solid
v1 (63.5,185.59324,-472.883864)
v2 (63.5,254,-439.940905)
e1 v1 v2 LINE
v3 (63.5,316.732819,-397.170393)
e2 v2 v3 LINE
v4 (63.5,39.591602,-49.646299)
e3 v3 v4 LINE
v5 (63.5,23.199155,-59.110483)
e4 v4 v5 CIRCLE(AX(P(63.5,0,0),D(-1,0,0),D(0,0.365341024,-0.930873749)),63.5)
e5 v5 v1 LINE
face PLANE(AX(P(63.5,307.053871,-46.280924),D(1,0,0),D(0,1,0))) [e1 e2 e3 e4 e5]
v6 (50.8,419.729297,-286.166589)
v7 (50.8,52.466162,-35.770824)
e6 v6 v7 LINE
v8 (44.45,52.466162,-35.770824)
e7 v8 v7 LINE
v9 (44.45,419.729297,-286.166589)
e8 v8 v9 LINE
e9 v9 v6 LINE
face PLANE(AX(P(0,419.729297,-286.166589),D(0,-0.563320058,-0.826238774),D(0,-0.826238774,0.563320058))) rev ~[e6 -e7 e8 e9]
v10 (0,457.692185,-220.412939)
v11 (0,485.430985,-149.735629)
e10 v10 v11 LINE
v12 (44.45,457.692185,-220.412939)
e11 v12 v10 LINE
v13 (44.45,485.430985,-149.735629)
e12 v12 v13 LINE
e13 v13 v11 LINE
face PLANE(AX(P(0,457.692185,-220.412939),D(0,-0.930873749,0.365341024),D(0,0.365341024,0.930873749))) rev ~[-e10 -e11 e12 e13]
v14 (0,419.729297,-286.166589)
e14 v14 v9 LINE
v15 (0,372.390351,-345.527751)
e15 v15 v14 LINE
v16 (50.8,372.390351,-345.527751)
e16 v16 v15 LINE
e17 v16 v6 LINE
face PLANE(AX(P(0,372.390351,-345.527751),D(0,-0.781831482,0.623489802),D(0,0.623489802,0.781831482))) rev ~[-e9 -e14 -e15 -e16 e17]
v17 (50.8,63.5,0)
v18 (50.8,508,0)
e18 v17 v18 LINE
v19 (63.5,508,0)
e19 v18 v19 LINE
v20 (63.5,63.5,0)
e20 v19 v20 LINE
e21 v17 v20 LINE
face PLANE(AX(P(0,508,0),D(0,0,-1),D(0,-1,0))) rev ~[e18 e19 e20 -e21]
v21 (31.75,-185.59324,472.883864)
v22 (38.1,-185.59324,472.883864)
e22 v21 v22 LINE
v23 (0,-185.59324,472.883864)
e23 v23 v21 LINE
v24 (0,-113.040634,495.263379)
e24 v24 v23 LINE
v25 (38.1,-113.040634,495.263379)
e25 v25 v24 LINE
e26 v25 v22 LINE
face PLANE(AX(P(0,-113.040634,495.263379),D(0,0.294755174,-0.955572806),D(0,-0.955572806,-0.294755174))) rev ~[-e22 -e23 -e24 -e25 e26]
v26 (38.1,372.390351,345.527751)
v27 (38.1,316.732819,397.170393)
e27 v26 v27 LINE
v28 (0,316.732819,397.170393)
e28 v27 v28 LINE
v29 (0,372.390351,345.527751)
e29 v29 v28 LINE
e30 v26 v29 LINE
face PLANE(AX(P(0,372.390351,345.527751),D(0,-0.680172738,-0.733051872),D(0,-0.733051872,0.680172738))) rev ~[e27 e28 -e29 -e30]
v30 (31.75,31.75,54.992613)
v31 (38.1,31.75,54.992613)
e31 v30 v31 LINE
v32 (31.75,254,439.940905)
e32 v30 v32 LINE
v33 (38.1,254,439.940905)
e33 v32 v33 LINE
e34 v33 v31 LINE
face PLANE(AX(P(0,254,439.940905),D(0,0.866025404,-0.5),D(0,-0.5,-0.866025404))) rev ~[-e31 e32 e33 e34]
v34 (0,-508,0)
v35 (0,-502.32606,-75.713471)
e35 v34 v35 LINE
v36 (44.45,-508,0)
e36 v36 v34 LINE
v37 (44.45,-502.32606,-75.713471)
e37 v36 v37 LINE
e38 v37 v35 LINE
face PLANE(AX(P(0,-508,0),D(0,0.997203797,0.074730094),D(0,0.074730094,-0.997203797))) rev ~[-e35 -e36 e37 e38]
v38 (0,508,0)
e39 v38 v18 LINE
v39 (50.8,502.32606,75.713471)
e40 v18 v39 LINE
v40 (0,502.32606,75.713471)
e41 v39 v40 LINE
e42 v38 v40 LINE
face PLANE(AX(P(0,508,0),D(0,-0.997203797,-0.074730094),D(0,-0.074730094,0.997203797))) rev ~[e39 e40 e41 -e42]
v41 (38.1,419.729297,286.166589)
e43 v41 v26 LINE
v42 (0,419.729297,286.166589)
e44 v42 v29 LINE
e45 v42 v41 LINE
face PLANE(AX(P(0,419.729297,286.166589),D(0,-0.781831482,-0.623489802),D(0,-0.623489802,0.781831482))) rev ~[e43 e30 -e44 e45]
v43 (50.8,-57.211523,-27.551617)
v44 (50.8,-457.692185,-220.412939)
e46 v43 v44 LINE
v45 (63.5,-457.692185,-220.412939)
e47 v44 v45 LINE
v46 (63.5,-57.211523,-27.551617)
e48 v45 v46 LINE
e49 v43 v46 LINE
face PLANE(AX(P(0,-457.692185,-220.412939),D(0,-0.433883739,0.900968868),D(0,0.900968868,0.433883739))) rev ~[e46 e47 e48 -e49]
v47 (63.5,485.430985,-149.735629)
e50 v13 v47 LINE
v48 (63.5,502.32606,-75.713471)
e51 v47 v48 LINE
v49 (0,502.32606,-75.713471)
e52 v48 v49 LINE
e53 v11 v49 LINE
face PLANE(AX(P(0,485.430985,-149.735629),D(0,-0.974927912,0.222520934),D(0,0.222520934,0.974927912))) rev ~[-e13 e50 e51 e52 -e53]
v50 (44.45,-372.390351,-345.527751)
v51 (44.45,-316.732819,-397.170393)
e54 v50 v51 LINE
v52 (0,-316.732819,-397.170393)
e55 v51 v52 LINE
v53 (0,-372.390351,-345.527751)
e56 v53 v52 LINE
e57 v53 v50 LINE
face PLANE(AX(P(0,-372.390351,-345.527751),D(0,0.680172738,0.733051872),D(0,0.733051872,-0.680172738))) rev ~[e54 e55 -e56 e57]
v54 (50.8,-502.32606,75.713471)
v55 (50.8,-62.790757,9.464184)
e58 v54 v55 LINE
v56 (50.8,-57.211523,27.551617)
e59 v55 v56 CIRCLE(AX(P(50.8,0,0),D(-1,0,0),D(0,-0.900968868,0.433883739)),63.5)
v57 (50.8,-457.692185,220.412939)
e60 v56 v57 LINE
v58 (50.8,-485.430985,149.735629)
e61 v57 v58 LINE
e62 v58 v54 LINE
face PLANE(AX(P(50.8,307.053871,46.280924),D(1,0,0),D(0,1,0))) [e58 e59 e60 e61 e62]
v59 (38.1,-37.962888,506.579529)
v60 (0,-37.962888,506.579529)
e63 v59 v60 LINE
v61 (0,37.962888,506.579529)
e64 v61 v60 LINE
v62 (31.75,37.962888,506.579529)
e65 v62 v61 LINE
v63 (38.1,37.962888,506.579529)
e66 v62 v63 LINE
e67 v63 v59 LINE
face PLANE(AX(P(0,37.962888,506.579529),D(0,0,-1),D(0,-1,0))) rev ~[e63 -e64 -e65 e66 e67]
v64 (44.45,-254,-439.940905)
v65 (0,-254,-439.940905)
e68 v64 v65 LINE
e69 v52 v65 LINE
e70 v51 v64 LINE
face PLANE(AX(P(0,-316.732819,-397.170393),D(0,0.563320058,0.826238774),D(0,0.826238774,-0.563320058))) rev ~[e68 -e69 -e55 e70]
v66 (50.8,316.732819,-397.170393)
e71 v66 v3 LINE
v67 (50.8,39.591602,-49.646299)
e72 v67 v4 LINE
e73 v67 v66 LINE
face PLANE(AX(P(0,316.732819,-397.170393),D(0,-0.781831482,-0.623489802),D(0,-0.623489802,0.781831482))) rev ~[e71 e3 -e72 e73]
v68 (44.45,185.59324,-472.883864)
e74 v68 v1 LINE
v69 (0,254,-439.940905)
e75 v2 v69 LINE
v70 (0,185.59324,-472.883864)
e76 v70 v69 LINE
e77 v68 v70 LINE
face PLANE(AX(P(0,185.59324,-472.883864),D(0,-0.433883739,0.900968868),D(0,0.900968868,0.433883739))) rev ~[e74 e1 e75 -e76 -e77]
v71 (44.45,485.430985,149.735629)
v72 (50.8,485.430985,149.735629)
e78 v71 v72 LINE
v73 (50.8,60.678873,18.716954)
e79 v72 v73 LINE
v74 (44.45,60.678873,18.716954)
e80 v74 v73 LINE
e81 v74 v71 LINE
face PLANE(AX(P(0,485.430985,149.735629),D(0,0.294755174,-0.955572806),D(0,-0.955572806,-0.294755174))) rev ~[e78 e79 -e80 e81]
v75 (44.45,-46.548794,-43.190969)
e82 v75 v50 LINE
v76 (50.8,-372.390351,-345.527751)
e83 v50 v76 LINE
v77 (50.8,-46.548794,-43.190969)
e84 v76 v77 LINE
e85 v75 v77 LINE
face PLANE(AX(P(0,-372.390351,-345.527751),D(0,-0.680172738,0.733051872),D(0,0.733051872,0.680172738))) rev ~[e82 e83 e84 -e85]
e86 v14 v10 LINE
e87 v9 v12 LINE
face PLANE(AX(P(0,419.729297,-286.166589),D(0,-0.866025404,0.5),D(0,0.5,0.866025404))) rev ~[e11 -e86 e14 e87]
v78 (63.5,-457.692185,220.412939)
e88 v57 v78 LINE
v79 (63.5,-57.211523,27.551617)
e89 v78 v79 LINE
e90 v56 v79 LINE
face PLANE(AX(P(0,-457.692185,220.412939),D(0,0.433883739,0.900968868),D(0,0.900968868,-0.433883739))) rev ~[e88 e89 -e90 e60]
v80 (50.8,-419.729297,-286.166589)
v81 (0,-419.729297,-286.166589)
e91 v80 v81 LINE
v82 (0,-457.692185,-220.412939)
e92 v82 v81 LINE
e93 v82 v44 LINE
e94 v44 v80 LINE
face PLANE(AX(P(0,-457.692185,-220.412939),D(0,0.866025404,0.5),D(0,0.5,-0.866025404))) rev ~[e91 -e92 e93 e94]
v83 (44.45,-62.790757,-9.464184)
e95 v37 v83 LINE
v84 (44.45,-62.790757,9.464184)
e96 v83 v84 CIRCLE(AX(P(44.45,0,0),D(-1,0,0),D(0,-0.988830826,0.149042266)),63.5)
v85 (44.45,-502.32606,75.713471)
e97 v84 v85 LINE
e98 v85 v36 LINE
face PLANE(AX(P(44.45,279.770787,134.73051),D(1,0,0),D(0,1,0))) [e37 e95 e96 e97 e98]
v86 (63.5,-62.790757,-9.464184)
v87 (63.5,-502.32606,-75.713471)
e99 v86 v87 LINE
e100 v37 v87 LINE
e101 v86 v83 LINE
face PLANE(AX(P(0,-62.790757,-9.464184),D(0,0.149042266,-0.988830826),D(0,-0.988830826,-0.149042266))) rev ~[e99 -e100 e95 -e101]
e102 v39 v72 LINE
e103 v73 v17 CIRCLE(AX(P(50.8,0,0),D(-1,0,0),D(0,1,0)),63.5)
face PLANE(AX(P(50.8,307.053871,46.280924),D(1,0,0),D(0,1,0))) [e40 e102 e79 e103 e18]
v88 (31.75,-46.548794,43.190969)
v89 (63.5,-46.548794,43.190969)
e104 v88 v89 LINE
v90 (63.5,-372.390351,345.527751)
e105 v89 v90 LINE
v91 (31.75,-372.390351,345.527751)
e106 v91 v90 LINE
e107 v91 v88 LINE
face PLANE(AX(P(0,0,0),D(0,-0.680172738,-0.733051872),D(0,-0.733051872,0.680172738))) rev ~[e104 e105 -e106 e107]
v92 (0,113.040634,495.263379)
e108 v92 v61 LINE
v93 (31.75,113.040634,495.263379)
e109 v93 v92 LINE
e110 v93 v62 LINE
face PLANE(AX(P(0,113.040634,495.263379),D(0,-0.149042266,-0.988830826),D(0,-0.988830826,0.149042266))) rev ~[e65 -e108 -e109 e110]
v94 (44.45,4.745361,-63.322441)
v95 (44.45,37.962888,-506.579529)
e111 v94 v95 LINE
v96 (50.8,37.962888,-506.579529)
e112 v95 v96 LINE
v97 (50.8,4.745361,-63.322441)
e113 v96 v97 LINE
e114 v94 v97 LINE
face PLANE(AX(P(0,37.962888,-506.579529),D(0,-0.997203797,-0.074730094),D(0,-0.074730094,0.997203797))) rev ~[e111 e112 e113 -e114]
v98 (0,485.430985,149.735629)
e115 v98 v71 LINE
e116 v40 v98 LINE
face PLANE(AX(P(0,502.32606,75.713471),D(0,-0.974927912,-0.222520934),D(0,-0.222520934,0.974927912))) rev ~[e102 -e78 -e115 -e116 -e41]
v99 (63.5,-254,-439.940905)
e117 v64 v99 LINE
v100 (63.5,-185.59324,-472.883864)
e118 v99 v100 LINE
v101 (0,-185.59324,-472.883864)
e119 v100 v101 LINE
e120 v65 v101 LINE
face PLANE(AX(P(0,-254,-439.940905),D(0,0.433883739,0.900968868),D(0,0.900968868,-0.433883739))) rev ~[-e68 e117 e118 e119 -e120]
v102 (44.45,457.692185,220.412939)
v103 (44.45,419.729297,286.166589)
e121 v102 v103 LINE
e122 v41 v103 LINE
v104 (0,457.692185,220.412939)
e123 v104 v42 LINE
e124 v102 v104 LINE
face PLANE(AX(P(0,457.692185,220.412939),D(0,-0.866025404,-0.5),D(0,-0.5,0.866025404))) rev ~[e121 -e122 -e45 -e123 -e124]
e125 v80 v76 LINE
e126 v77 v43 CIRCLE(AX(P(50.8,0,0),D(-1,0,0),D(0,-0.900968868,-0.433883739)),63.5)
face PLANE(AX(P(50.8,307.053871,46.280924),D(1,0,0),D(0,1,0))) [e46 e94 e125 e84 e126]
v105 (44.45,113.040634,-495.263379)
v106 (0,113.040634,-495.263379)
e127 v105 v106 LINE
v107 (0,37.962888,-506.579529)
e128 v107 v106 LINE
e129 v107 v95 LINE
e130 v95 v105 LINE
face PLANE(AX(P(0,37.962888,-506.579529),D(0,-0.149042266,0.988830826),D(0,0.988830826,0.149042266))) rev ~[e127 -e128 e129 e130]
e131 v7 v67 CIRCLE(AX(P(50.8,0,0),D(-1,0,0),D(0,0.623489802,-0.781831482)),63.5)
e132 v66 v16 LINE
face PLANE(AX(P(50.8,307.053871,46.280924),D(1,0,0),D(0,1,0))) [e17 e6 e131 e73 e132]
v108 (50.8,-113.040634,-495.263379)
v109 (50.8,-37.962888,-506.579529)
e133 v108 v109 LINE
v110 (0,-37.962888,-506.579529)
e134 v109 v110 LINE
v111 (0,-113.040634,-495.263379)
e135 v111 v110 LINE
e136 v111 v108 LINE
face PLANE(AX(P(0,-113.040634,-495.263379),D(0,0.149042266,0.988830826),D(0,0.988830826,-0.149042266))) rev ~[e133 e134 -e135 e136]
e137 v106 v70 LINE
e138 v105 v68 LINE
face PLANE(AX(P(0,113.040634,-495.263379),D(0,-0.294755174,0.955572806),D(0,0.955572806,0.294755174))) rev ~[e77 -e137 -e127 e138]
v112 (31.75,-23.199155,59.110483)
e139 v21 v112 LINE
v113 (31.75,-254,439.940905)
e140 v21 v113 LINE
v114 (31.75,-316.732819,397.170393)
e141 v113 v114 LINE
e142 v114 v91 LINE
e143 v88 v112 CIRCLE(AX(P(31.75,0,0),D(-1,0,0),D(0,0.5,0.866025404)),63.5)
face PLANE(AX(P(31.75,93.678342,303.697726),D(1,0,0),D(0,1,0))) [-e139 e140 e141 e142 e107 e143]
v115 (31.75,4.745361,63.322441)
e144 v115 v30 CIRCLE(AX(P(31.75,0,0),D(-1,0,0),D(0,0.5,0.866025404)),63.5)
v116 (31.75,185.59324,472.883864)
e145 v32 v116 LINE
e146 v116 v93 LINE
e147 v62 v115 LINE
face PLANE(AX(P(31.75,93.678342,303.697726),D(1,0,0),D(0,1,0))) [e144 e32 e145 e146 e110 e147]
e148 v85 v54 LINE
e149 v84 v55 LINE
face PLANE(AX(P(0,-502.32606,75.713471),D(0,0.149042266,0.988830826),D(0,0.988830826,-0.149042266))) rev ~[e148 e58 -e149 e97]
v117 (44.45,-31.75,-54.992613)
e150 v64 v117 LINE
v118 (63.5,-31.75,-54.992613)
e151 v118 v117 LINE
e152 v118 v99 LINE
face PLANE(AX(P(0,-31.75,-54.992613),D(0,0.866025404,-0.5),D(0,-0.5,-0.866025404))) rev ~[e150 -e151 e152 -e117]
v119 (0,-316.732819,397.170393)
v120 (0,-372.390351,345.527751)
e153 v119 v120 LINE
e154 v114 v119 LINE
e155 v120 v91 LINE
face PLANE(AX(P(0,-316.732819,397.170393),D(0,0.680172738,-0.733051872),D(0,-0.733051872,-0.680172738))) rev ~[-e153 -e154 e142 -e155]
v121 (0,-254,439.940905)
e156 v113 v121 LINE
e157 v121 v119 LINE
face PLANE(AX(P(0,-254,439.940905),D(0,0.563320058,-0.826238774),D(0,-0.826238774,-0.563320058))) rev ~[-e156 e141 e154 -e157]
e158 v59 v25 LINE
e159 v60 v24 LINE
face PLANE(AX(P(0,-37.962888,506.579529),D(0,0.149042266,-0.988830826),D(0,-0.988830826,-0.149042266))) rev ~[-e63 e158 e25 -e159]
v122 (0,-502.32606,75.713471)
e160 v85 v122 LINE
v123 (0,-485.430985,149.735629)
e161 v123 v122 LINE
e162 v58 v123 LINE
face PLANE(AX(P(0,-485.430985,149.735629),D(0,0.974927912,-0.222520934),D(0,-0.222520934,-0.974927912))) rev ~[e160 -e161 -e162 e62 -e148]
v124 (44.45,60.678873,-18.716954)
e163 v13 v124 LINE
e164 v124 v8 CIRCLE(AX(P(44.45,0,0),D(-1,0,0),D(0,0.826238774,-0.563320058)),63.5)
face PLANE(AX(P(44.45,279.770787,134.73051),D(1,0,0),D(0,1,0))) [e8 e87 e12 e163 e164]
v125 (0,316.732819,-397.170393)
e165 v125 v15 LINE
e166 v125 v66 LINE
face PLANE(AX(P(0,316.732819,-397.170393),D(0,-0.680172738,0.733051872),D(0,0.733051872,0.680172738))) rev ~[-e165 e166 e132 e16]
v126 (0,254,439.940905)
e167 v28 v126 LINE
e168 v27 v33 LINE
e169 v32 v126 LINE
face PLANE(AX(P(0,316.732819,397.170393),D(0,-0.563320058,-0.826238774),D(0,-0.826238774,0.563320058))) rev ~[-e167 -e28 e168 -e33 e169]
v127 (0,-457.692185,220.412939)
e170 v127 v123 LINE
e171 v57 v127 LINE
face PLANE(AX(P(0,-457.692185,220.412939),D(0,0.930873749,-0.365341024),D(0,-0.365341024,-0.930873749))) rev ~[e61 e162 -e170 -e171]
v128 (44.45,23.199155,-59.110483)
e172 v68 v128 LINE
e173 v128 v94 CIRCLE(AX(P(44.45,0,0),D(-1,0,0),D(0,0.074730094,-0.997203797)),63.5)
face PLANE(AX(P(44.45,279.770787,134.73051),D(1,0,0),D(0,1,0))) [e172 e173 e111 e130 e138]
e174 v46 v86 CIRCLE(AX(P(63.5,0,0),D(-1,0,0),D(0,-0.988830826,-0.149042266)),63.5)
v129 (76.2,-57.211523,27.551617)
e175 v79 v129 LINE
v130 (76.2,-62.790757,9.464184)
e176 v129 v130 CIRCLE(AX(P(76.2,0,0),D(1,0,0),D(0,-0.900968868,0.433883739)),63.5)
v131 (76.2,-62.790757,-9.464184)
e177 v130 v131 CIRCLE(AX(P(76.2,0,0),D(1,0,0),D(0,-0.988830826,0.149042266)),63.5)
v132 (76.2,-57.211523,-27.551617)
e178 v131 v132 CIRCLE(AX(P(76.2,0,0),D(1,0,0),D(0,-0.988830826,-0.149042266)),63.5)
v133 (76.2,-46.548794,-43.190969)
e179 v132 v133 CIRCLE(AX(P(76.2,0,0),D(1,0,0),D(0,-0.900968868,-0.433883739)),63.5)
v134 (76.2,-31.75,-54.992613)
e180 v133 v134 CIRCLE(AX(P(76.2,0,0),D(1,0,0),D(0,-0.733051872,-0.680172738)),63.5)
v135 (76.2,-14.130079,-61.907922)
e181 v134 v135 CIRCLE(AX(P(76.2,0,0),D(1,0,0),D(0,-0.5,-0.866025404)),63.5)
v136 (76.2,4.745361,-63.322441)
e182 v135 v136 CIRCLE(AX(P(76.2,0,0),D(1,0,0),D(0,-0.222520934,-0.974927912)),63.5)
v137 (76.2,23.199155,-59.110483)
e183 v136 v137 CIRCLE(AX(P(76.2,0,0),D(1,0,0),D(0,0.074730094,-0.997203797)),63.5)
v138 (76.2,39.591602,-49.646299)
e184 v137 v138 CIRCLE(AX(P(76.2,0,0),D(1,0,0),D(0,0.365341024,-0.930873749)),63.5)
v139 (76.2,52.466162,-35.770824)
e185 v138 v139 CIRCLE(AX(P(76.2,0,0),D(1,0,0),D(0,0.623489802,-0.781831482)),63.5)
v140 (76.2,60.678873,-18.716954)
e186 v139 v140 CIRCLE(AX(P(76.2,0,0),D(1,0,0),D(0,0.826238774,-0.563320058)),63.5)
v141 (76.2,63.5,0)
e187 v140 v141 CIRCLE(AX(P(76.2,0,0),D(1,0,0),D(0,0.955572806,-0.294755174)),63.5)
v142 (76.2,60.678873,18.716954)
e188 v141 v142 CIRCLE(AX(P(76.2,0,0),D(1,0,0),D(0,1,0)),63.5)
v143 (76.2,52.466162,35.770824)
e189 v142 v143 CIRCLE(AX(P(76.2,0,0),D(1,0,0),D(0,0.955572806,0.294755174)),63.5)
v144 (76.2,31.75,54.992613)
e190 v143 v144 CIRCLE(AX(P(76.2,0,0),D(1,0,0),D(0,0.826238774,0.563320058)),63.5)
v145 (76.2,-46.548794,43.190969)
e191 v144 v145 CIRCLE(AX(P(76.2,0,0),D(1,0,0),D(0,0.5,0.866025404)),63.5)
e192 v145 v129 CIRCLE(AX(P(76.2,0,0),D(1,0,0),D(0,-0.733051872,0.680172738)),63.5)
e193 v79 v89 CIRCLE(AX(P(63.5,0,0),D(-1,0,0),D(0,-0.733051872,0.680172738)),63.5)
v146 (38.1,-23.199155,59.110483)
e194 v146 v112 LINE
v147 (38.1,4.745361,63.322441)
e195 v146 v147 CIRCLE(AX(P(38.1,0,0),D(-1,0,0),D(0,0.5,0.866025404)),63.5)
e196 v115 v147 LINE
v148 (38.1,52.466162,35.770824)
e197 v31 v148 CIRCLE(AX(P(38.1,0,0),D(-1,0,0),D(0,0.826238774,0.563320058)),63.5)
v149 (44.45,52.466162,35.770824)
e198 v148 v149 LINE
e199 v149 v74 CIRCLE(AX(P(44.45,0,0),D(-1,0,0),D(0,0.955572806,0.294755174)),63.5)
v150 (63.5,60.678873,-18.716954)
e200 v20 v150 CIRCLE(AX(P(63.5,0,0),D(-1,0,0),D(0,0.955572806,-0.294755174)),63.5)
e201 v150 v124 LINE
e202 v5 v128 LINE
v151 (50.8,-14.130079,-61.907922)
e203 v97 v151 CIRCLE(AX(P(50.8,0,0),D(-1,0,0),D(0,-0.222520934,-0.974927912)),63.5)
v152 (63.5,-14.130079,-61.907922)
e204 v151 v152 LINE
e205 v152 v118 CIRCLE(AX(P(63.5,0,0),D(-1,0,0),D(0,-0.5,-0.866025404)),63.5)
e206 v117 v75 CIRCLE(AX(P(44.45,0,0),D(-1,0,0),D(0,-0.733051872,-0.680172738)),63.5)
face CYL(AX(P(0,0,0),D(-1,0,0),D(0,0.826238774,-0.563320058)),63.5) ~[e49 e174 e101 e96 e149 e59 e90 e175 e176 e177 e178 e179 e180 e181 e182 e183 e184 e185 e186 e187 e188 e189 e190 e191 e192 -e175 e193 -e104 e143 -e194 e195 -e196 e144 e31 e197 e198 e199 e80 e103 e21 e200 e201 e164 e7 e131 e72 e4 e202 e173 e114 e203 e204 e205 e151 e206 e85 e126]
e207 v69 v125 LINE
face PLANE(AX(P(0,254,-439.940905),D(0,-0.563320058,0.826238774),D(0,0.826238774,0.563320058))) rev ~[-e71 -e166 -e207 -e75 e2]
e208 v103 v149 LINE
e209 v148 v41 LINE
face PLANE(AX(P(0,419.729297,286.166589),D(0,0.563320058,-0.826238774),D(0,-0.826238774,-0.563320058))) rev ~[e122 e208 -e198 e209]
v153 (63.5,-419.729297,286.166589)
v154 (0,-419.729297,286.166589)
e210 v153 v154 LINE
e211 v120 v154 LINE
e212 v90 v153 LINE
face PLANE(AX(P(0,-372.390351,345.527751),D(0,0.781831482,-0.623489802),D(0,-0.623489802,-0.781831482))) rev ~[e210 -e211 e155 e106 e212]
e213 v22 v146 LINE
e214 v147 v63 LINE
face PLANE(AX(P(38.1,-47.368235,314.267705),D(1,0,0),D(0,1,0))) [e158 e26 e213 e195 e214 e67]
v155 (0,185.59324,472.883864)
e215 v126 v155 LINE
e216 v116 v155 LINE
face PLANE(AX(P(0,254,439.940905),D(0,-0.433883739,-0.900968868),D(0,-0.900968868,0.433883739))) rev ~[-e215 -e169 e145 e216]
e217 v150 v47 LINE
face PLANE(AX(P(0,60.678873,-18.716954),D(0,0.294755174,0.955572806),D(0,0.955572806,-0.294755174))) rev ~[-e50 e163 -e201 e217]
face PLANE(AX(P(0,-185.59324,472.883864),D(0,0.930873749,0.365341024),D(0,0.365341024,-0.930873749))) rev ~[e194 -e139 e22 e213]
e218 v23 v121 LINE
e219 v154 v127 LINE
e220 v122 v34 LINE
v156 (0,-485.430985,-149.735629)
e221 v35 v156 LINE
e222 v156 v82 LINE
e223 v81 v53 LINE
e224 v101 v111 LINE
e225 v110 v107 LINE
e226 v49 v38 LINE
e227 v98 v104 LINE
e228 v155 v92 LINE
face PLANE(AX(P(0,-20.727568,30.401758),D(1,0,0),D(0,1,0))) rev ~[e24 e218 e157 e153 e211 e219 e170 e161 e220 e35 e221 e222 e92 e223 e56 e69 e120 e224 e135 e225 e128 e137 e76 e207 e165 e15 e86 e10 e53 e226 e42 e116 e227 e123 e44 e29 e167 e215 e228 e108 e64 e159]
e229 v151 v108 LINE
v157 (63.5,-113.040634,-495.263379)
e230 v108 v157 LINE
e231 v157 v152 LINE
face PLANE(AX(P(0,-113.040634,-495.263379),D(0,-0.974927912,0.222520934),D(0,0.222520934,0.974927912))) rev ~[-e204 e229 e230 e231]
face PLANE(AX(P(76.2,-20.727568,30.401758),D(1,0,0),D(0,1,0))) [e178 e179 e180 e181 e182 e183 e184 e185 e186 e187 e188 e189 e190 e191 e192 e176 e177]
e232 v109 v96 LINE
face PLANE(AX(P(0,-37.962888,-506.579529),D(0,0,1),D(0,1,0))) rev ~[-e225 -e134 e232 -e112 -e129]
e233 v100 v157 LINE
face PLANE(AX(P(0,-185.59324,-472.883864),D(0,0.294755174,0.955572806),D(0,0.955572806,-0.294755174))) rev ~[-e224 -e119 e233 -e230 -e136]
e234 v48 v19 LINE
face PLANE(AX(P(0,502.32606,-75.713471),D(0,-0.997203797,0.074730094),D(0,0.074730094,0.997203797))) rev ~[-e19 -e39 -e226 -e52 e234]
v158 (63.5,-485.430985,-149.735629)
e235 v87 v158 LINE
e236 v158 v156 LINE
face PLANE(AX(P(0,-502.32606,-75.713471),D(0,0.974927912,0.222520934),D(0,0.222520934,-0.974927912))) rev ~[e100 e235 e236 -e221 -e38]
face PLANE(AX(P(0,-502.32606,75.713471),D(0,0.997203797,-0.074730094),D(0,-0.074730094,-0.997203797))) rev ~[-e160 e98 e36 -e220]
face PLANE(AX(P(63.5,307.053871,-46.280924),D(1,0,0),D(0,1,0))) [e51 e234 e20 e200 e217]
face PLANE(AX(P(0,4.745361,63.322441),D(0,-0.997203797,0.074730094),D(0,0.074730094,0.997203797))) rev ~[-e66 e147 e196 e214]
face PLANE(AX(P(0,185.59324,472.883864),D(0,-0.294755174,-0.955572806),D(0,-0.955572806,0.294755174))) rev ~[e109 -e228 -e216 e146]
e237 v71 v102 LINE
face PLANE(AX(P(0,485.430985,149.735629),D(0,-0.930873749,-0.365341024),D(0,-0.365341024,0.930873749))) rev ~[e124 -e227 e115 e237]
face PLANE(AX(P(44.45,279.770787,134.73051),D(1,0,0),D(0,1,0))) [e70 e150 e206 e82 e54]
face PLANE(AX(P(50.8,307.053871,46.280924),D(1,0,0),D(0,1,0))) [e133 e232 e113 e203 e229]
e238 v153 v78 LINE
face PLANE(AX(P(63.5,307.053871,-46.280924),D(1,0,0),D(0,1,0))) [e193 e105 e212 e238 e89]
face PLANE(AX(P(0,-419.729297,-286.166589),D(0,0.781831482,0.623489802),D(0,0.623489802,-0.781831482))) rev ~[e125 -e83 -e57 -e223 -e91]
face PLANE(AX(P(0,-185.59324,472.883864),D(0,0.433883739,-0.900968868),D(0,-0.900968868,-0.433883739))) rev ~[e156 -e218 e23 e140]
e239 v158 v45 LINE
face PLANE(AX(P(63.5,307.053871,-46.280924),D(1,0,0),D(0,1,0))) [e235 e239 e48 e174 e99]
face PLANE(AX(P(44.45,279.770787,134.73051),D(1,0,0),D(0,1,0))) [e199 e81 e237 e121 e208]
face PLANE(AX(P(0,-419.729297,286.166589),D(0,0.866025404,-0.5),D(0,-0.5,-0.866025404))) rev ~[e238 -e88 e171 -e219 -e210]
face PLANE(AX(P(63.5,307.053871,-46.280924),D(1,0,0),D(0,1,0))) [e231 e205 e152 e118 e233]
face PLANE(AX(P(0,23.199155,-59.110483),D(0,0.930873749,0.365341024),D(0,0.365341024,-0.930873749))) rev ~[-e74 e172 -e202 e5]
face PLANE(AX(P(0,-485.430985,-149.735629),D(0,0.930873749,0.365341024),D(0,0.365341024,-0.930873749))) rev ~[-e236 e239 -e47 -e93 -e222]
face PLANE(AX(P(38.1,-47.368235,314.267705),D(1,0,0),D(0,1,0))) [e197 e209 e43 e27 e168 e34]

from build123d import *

# Parameters (mm, degrees)
F1_DEPTH = 25.4
F2_DEPTH = 31.75
F3_DEPTH = 38.1
F4_DEPTH = 44.45
F5_DEPTH = 50.8
F6_DEPTH = 63.5
F7_DEPTH = 76.2


with BuildPart() as f1:
    # F0 (on Right) → F1 (new body)
    with BuildSketch(Plane.YZ):
        with BuildLine():
            ThreePointArc((-23.1991550473, 59.1104830389), (-9.4641839022, 62.7907574653), (4.7453609427, 63.322441121))
            Line((4.7453609427, 63.322441121), (37.9628875419, 506.579528968))
            Line((37.9628875419, 506.579528968), (-37.9628875419, 506.579528968))
            Line((-37.9628875419, 506.579528968), (-113.0406344498, 495.2633793884))
            Line((-113.0406344498, 495.2633793884), (-185.5932403781, 472.8838643113))
            Line((-185.5932403781, 472.8838643113), (-23.1991550473, 59.1104830389))
        make_face()
        with BuildLine():
            Line((37.9628875419, 506.579528968), (4.7453609427, 63.322441121))
            ThreePointArc((4.7453609427, 63.322441121), (18.7169535751, 60.6788731674), (31.75, 54.9926131403))
            Line((31.75, 54.9926131403), (254, 439.9409051225))
            Line((254, 439.9409051225), (185.5932403781, 472.8838643113))
            Line((185.5932403781, 472.8838643113), (113.0406344498, 495.2633793884))
            Line((113.0406344498, 495.2633793884), (37.9628875419, 506.579528968))
        make_face()
        with BuildLine():
            Line((254, 439.9409051225), (31.75, 54.9926131403))
            ThreePointArc((31.75, 54.9926131403), (43.1909688485, 46.5487938612), (52.4661621691, 35.770823687))
            Line((52.4661621691, 35.770823687), (419.7292973525, 286.1665894963))
            Line((419.7292973525, 286.1665894963), (372.3903508896, 345.5277507876))
            Line((372.3903508896, 345.5277507876), (316.7328193442, 397.1703930938))
            Line((316.7328193442, 397.1703930938), (254, 439.9409051225))
        make_face()
        with BuildLine():
            Line((60.6788731674, 18.7169535751), (485.4309853394, 149.7356286007))
            Line((485.4309853394, 149.7356286007), (457.6921848944, 220.4129394717))
            Line((457.6921848944, 220.4129394717), (419.7292973525, 286.1665894963))
            Line((419.7292973525, 286.1665894963), (52.4661621691, 35.770823687))
            ThreePointArc((52.4661621691, 35.770823687), (57.2115231118, 27.551617434), (60.6788731674, 18.7169535751))
        make_face()
        with BuildLine():
            Line((63.5, 0), (508, 0))
            Line((508, 0), (502.3260597224, 75.7134712175))
            Line((502.3260597224, 75.7134712175), (485.4309853394, 149.7356286007))
            Line((485.4309853394, 149.7356286007), (60.6788731674, 18.7169535751))
            ThreePointArc((60.6788731674, 18.7169535751), (62.7907574653, 9.4641839022), (63.5, 0))
        make_face()
        with BuildLine():
            Line((502.3260597224, -75.7134712175), (508, 0))
            Line((508, 0), (63.5, 0))
            ThreePointArc((63.5, 0), (62.7907574653, -9.4641839022), (60.6788731674, -18.7169535751))
            Line((60.6788731674, -18.7169535751), (485.4309853394, -149.7356286007))
            Line((485.4309853394, -149.7356286007), (502.3260597224, -75.7134712175))
        make_face()
        with BuildLine():
            Line((457.6921848944, -220.4129394717), (485.4309853394, -149.7356286007))
            Line((485.4309853394, -149.7356286007), (60.6788731674, -18.7169535751))
            ThreePointArc((60.6788731674, -18.7169535751), (57.2115231118, -27.551617434), (52.4661621691, -35.770823687))
            Line((52.4661621691, -35.770823687), (419.7292973525, -286.1665894963))
            Line((419.7292973525, -286.1665894963), (457.6921848944, -220.4129394717))
        make_face()
        with BuildLine():
            Line((419.7292973525, -286.1665894963), (52.4661621691, -35.770823687))
            ThreePointArc((52.4661621691, -35.770823687), (46.5487938612, -43.1909688485), (39.591602418, -49.6462991367))
            Line((39.591602418, -49.6462991367), (316.7328193442, -397.1703930938))
            Line((316.7328193442, -397.1703930938), (372.3903508896, -345.5277507876))
            Line((372.3903508896, -345.5277507876), (419.7292973525, -286.1665894963))
        make_face()
        with BuildLine():
            Line((316.7328193442, -397.1703930938), (39.591602418, -49.6462991367))
            ThreePointArc((39.591602418, -49.6462991367), (31.75, -54.9926131403), (23.1991550473, -59.1104830389))
            Line((23.1991550473, -59.1104830389), (185.5932403781, -472.8838643113))
            Line((185.5932403781, -472.8838643113), (254, -439.9409051225))
            Line((254, -439.9409051225), (316.7328193442, -397.1703930938))
        make_face()
        with BuildLine():
            Line((185.5932403781, -472.8838643113), (23.1991550473, -59.1104830389))
            ThreePointArc((23.1991550473, -59.1104830389), (14.1300793062, -61.9079224235), (4.7453609427, -63.322441121))
            Line((4.7453609427, -63.322441121), (37.9628875419, -506.579528968))
            Line((37.9628875419, -506.579528968), (113.0406344498, -495.2633793884))
            Line((113.0406344498, -495.2633793884), (185.5932403781, -472.8838643113))
        make_face()
        with BuildLine():
            Line((37.9628875419, -506.579528968), (4.7453609427, -63.322441121))
            ThreePointArc((4.7453609427, -63.322441121), (-4.7453609427, -63.322441121), (-14.1300793062, -61.9079224235))
            Line((-14.1300793062, -61.9079224235), (-113.0406344498, -495.2633793884))
            Line((-113.0406344498, -495.2633793884), (-37.9628875419, -506.579528968))
            Line((-37.9628875419, -506.579528968), (37.9628875419, -506.579528968))
        make_face()
        with BuildLine():
            Line((-113.0406344498, -495.2633793884), (-14.1300793062, -61.9079224235))
            ThreePointArc((-14.1300793062, -61.9079224235), (-23.1991550473, -59.1104830389), (-31.75, -54.9926131403))
            Line((-31.75, -54.9926131403), (-254, -439.9409051225))
            Line((-254, -439.9409051225), (-185.5932403781, -472.8838643113))
            Line((-185.5932403781, -472.8838643113), (-113.0406344498, -495.2633793884))
        make_face()
        with BuildLine():
            Line((-254, -439.9409051225), (-31.75, -54.9926131403))
            ThreePointArc((-31.75, -54.9926131403), (-39.591602418, -49.6462991367), (-46.5487938612, -43.1909688485))
            Line((-46.5487938612, -43.1909688485), (-372.3903508896, -345.5277507876))
            Line((-372.3903508896, -345.5277507876), (-316.7328193442, -397.1703930938))
            Line((-316.7328193442, -397.1703930938), (-254, -439.9409051225))
        make_face()
        with BuildLine():
            Line((-372.3903508896, -345.5277507876), (-46.5487938612, -43.1909688485))
            ThreePointArc((-46.5487938612, -43.1909688485), (-52.4661621691, -35.770823687), (-57.2115231118, -27.551617434))
            Line((-57.2115231118, -27.551617434), (-457.6921848944, -220.4129394717))
            Line((-457.6921848944, -220.4129394717), (-419.7292973525, -286.1665894963))
            Line((-419.7292973525, -286.1665894963), (-372.3903508896, -345.5277507876))
        make_face()
        with BuildLine():
            Line((-457.6921848944, -220.4129394717), (-57.2115231118, -27.551617434))
            ThreePointArc((-57.2115231118, -27.551617434), (-60.6788731674, -18.7169535751), (-62.7907574653, -9.4641839022))
            Line((-62.7907574653, -9.4641839022), (-502.3260597224, -75.7134712175))
            Line((-502.3260597224, -75.7134712175), (-485.4309853394, -149.7356286007))
            Line((-485.4309853394, -149.7356286007), (-457.6921848944, -220.4129394717))
        make_face()
        with BuildLine():
            Line((-502.3260597224, -75.7134712175), (-62.7907574653, -9.4641839022))
            ThreePointArc((-62.7907574653, -9.4641839022), (-63.5, 0), (-62.7907574653, 9.4641839022))
            Line((-62.7907574653, 9.4641839022), (-502.3260597224, 75.7134712175))
            Line((-502.3260597224, 75.7134712175), (-508, 0))
            Line((-508, 0), (-502.3260597224, -75.7134712175))
        make_face()
        with BuildLine():
            Line((-502.3260597224, 75.7134712175), (-62.7907574653, 9.4641839022))
            ThreePointArc((-62.7907574653, 9.4641839022), (-60.6788731674, 18.7169535751), (-57.2115231118, 27.551617434))
            Line((-57.2115231118, 27.551617434), (-457.6921848944, 220.4129394717))
            Line((-457.6921848944, 220.4129394717), (-485.4309853394, 149.7356286007))
            Line((-485.4309853394, 149.7356286007), (-502.3260597224, 75.7134712175))
        make_face()
        with BuildLine():
            ThreePointArc((-57.2115231118, 27.551617434), (-52.4661621691, 35.770823687), (-46.5487938612, 43.1909688485))
            Line((-46.5487938612, 43.1909688485), (-372.3903508896, 345.5277507876))
            Line((-372.3903508896, 345.5277507876), (-419.7292973525, 286.1665894963))
            Line((-419.7292973525, 286.1665894963), (-457.6921848944, 220.4129394717))
            Line((-457.6921848944, 220.4129394717), (-57.2115231118, 27.551617434))
        make_face()
        with BuildLine():
            ThreePointArc((-46.5487938612, 43.1909688485), (-35.770823687, 52.4661621691), (-23.1991550473, 59.1104830389))
            Line((-23.1991550473, 59.1104830389), (-185.5932403781, 472.8838643113))
            Line((-185.5932403781, 472.8838643113), (-254, 439.9409051225))
            Line((-254, 439.9409051225), (-316.7328193442, 397.1703930938))
            Line((-316.7328193442, 397.1703930938), (-372.3903508896, 345.5277507876))
            Line((-372.3903508896, 345.5277507876), (-46.5487938612, 43.1909688485))
        make_face()
    extrude(amount=F1_DEPTH)

    # F0 (on Right) → F2 (join)
    with BuildSketch(Plane.YZ):
        with BuildLine():
            Line((37.9628875419, 506.579528968), (4.7453609427, 63.322441121))
            ThreePointArc((4.7453609427, 63.322441121), (18.7169535751, 60.6788731674), (31.75, 54.9926131403))
            Line((31.75, 54.9926131403), (254, 439.9409051225))
            Line((254, 439.9409051225), (185.5932403781, 472.8838643113))
            Line((185.5932403781, 472.8838643113), (113.0406344498, 495.2633793884))
            Line((113.0406344498, 495.2633793884), (37.9628875419, 506.579528968))
        make_face()
        with BuildLine():
            ThreePointArc((-46.5487938612, 43.1909688485), (-35.770823687, 52.4661621691), (-23.1991550473, 59.1104830389))
            Line((-23.1991550473, 59.1104830389), (-185.5932403781, 472.8838643113))
            Line((-185.5932403781, 472.8838643113), (-254, 439.9409051225))
            Line((-254, 439.9409051225), (-316.7328193442, 397.1703930938))
            Line((-316.7328193442, 397.1703930938), (-372.3903508896, 345.5277507876))
            Line((-372.3903508896, 345.5277507876), (-46.5487938612, 43.1909688485))
        make_face()
        with BuildLine():
            Line((4.7453609427, 63.322441121), (0, 0))
            Line((0, 0), (31.75, 54.9926131403))
            ThreePointArc((31.75, 54.9926131403), (18.7169535751, 60.6788731674), (4.7453609427, 63.322441121))
        make_face()
        with BuildLine():
            Line((-23.1991550473, 59.1104830389), (0, 0))
            Line((0, 0), (4.7453609427, 63.322441121))
            ThreePointArc((4.7453609427, 63.322441121), (-9.4641839022, 62.7907574653), (-23.1991550473, 59.1104830389))
        make_face()
        with BuildLine():
            Line((-46.5487938612, 43.1909688485), (0, 0))
            Line((0, 0), (-23.1991550473, 59.1104830389))
            ThreePointArc((-23.1991550473, 59.1104830389), (-35.770823687, 52.4661621691), (-46.5487938612, 43.1909688485))
        make_face()
    extrude(amount=F2_DEPTH)

    # F0 (on Right) → F3 (join)
    with BuildSketch(Plane.YZ):
        with BuildLine():
            ThreePointArc((-23.1991550473, 59.1104830389), (-9.4641839022, 62.7907574653), (4.7453609427, 63.322441121))
            Line((4.7453609427, 63.322441121), (37.9628875419, 506.579528968))
            Line((37.9628875419, 506.579528968), (-37.9628875419, 506.579528968))
            Line((-37.9628875419, 506.579528968), (-113.0406344498, 495.2633793884))
            Line((-113.0406344498, 495.2633793884), (-185.5932403781, 472.8838643113))
            Line((-185.5932403781, 472.8838643113), (-23.1991550473, 59.1104830389))
        make_face()
        with BuildLine():
            Line((254, 439.9409051225), (31.75, 54.9926131403))
            ThreePointArc((31.75, 54.9926131403), (43.1909688485, 46.5487938612), (52.4661621691, 35.770823687))
            Line((52.4661621691, 35.770823687), (419.7292973525, 286.1665894963))
            Line((419.7292973525, 286.1665894963), (372.3903508896, 345.5277507876))
            Line((372.3903508896, 345.5277507876), (316.7328193442, 397.1703930938))
            Line((316.7328193442, 397.1703930938), (254, 439.9409051225))
        make_face()
        with BuildLine():
            Line((31.75, 54.9926131403), (0, 0))
            Line((0, 0), (52.4661621691, 35.770823687))
            ThreePointArc((52.4661621691, 35.770823687), (43.1909688485, 46.5487938612), (31.75, 54.9926131403))
        make_face()
        with BuildLine():
            Line((4.7453609427, 63.322441121), (0, 0))
            Line((0, 0), (31.75, 54.9926131403))
            ThreePointArc((31.75, 54.9926131403), (18.7169535751, 60.6788731674), (4.7453609427, 63.322441121))
        make_face()
        with BuildLine():
            Line((-23.1991550473, 59.1104830389), (0, 0))
            Line((0, 0), (4.7453609427, 63.322441121))
            ThreePointArc((4.7453609427, 63.322441121), (-9.4641839022, 62.7907574653), (-23.1991550473, 59.1104830389))
        make_face()
    extrude(amount=F3_DEPTH)

    # F0 (on Right) → F4 (join)
    with BuildSketch(Plane.YZ):
        with BuildLine():
            Line((60.6788731674, 18.7169535751), (485.4309853394, 149.7356286007))
            Line((485.4309853394, 149.7356286007), (457.6921848944, 220.4129394717))
            Line((457.6921848944, 220.4129394717), (419.7292973525, 286.1665894963))
            Line((419.7292973525, 286.1665894963), (52.4661621691, 35.770823687))
            ThreePointArc((52.4661621691, 35.770823687), (57.2115231118, 27.551617434), (60.6788731674, 18.7169535751))
        make_face()
        with BuildLine():
            Line((457.6921848944, -220.4129394717), (485.4309853394, -149.7356286007))
            Line((485.4309853394, -149.7356286007), (60.6788731674, -18.7169535751))
            ThreePointArc((60.6788731674, -18.7169535751), (57.2115231118, -27.551617434), (52.4661621691, -35.770823687))
            Line((52.4661621691, -35.770823687), (419.7292973525, -286.1665894963))
            Line((419.7292973525, -286.1665894963), (457.6921848944, -220.4129394717))
        make_face()
        with BuildLine():
            Line((185.5932403781, -472.8838643113), (23.1991550473, -59.1104830389))
            ThreePointArc((23.1991550473, -59.1104830389), (14.1300793062, -61.9079224235), (4.7453609427, -63.322441121))
            Line((4.7453609427, -63.322441121), (37.9628875419, -506.579528968))
            Line((37.9628875419, -506.579528968), (113.0406344498, -495.2633793884))
            Line((113.0406344498, -495.2633793884), (185.5932403781, -472.8838643113))
        make_face()
        with BuildLine():
            Line((-254, -439.9409051225), (-31.75, -54.9926131403))
            ThreePointArc((-31.75, -54.9926131403), (-39.591602418, -49.6462991367), (-46.5487938612, -43.1909688485))
            Line((-46.5487938612, -43.1909688485), (-372.3903508896, -345.5277507876))
            Line((-372.3903508896, -345.5277507876), (-316.7328193442, -397.1703930938))
            Line((-316.7328193442, -397.1703930938), (-254, -439.9409051225))
        make_face()
        with BuildLine():
            Line((-502.3260597224, -75.7134712175), (-62.7907574653, -9.4641839022))
            ThreePointArc((-62.7907574653, -9.4641839022), (-63.5, 0), (-62.7907574653, 9.4641839022))
            Line((-62.7907574653, 9.4641839022), (-502.3260597224, 75.7134712175))
            Line((-502.3260597224, 75.7134712175), (-508, 0))
            Line((-508, 0), (-502.3260597224, -75.7134712175))
        make_face()
        with BuildLine():
            Line((52.4661621691, 35.770823687), (0, 0))
            Line((0, 0), (60.6788731674, 18.7169535751))
            ThreePointArc((60.6788731674, 18.7169535751), (57.2115231118, 27.551617434), (52.4661621691, 35.770823687))
        make_face()
        with BuildLine():
            Line((0, 0), (63.5, 0))
            ThreePointArc((63.5, 0), (62.7907574653, 9.4641839022), (60.6788731674, 18.7169535751))
            Line((60.6788731674, 18.7169535751), (0, 0))
        make_face()
        with BuildLine():
            ThreePointArc((60.6788731674, -18.7169535751), (62.7907574653, -9.4641839022), (63.5, 0))
            Line((63.5, 0), (0, 0))
            Line((0, 0), (60.6788731674, -18.7169535751))
        make_face()
        with BuildLine():
            Line((60.6788731674, -18.7169535751), (0, 0))
            Line((0, 0), (52.4661621691, -35.770823687))
            ThreePointArc((52.4661621691, -35.770823687), (57.2115231118, -27.551617434), (60.6788731674, -18.7169535751))
        make_face()
        with BuildLine():
            Line((52.4661621691, -35.770823687), (0, 0))
            Line((0, 0), (39.591602418, -49.6462991367))
            ThreePointArc((39.591602418, -49.6462991367), (46.5487938612, -43.1909688485), (52.4661621691, -35.770823687))
        make_face()
        with BuildLine():
            Line((39.591602418, -49.6462991367), (0, 0))
            Line((0, 0), (23.1991550473, -59.1104830389))
            ThreePointArc((23.1991550473, -59.1104830389), (31.75, -54.9926131403), (39.591602418, -49.6462991367))
        make_face()
        with BuildLine():
            Line((23.1991550473, -59.1104830389), (0, 0))
            Line((0, 0), (4.7453609427, -63.322441121))
            ThreePointArc((4.7453609427, -63.322441121), (14.1300793062, -61.9079224235), (23.1991550473, -59.1104830389))
        make_face()
        with BuildLine():
            Line((4.7453609427, -63.322441121), (0, 0))
            Line((0, 0), (-14.1300793062, -61.9079224235))
            ThreePointArc((-14.1300793062, -61.9079224235), (-4.7453609427, -63.322441121), (4.7453609427, -63.322441121))
        make_face()
        with BuildLine():
            Line((-14.1300793062, -61.9079224235), (0, 0))
            Line((0, 0), (-31.75, -54.9926131403))
            ThreePointArc((-31.75, -54.9926131403), (-23.1991550473, -59.1104830389), (-14.1300793062, -61.9079224235))
        make_face()
        with BuildLine():
            Line((-31.75, -54.9926131403), (0, 0))
            Line((0, 0), (-46.5487938612, -43.1909688485))
            ThreePointArc((-46.5487938612, -43.1909688485), (-39.591602418, -49.6462991367), (-31.75, -54.9926131403))
        make_face()
        with BuildLine():
            Line((-46.5487938612, -43.1909688485), (0, 0))
            Line((0, 0), (-57.2115231118, -27.551617434))
            ThreePointArc((-57.2115231118, -27.551617434), (-52.4661621691, -35.770823687), (-46.5487938612, -43.1909688485))
        make_face()
        with BuildLine():
            Line((-57.2115231118, -27.551617434), (0, 0))
            Line((0, 0), (-62.7907574653, -9.4641839022))
            ThreePointArc((-62.7907574653, -9.4641839022), (-60.6788731674, -18.7169535751), (-57.2115231118, -27.551617434))
        make_face()
        with BuildLine():
            Line((-62.7907574653, -9.4641839022), (0, 0))
            Line((0, 0), (-62.7907574653, 9.4641839022))
            ThreePointArc((-62.7907574653, 9.4641839022), (-63.5, 0), (-62.7907574653, -9.4641839022))
        make_face()
    extrude(amount=F4_DEPTH)

    # F0 (on Right) → F5 (join)
    with BuildSketch(Plane.YZ):
        with BuildLine():
            Line((63.5, 0), (508, 0))
            Line((508, 0), (502.3260597224, 75.7134712175))
            Line((502.3260597224, 75.7134712175), (485.4309853394, 149.7356286007))
            Line((485.4309853394, 149.7356286007), (60.6788731674, 18.7169535751))
            ThreePointArc((60.6788731674, 18.7169535751), (62.7907574653, 9.4641839022), (63.5, 0))
        make_face()
        with BuildLine():
            Line((419.7292973525, -286.1665894963), (52.4661621691, -35.770823687))
            ThreePointArc((52.4661621691, -35.770823687), (46.5487938612, -43.1909688485), (39.591602418, -49.6462991367))
            Line((39.591602418, -49.6462991367), (316.7328193442, -397.1703930938))
            Line((316.7328193442, -397.1703930938), (372.3903508896, -345.5277507876))
            Line((372.3903508896, -345.5277507876), (419.7292973525, -286.1665894963))
        make_face()
        with BuildLine():
            Line((37.9628875419, -506.579528968), (4.7453609427, -63.322441121))
            ThreePointArc((4.7453609427, -63.322441121), (-4.7453609427, -63.322441121), (-14.1300793062, -61.9079224235))
            Line((-14.1300793062, -61.9079224235), (-113.0406344498, -495.2633793884))
            Line((-113.0406344498, -495.2633793884), (-37.9628875419, -506.579528968))
            Line((-37.9628875419, -506.579528968), (37.9628875419, -506.579528968))
        make_face()
        with BuildLine():
            Line((-372.3903508896, -345.5277507876), (-46.5487938612, -43.1909688485))
            ThreePointArc((-46.5487938612, -43.1909688485), (-52.4661621691, -35.770823687), (-57.2115231118, -27.551617434))
            Line((-57.2115231118, -27.551617434), (-457.6921848944, -220.4129394717))
            Line((-457.6921848944, -220.4129394717), (-419.7292973525, -286.1665894963))
            Line((-419.7292973525, -286.1665894963), (-372.3903508896, -345.5277507876))
        make_face()
        with BuildLine():
            Line((-502.3260597224, 75.7134712175), (-62.7907574653, 9.4641839022))
            ThreePointArc((-62.7907574653, 9.4641839022), (-60.6788731674, 18.7169535751), (-57.2115231118, 27.551617434))
            Line((-57.2115231118, 27.551617434), (-457.6921848944, 220.4129394717))
            Line((-457.6921848944, 220.4129394717), (-485.4309853394, 149.7356286007))
            Line((-485.4309853394, 149.7356286007), (-502.3260597224, 75.7134712175))
        make_face()
        with BuildLine():
            Line((0, 0), (63.5, 0))
            ThreePointArc((63.5, 0), (62.7907574653, 9.4641839022), (60.6788731674, 18.7169535751))
            Line((60.6788731674, 18.7169535751), (0, 0))
        make_face()
        with BuildLine():
            ThreePointArc((60.6788731674, -18.7169535751), (62.7907574653, -9.4641839022), (63.5, 0))
            Line((63.5, 0), (0, 0))
            Line((0, 0), (60.6788731674, -18.7169535751))
        make_face()
        with BuildLine():
            Line((60.6788731674, -18.7169535751), (0, 0))
            Line((0, 0), (52.4661621691, -35.770823687))
            ThreePointArc((52.4661621691, -35.770823687), (57.2115231118, -27.551617434), (60.6788731674, -18.7169535751))
        make_face()
        with BuildLine():
            Line((52.4661621691, -35.770823687), (0, 0))
            Line((0, 0), (39.591602418, -49.6462991367))
            ThreePointArc((39.591602418, -49.6462991367), (46.5487938612, -43.1909688485), (52.4661621691, -35.770823687))
        make_face()
        with BuildLine():
            Line((39.591602418, -49.6462991367), (0, 0))
            Line((0, 0), (23.1991550473, -59.1104830389))
            ThreePointArc((23.1991550473, -59.1104830389), (31.75, -54.9926131403), (39.591602418, -49.6462991367))
        make_face()
        with BuildLine():
            Line((23.1991550473, -59.1104830389), (0, 0))
            Line((0, 0), (4.7453609427, -63.322441121))
            ThreePointArc((4.7453609427, -63.322441121), (14.1300793062, -61.9079224235), (23.1991550473, -59.1104830389))
        make_face()
        with BuildLine():
            Line((4.7453609427, -63.322441121), (0, 0))
            Line((0, 0), (-14.1300793062, -61.9079224235))
            ThreePointArc((-14.1300793062, -61.9079224235), (-4.7453609427, -63.322441121), (4.7453609427, -63.322441121))
        make_face()
        with BuildLine():
            Line((-14.1300793062, -61.9079224235), (0, 0))
            Line((0, 0), (-31.75, -54.9926131403))
            ThreePointArc((-31.75, -54.9926131403), (-23.1991550473, -59.1104830389), (-14.1300793062, -61.9079224235))
        make_face()
        with BuildLine():
            Line((-31.75, -54.9926131403), (0, 0))
            Line((0, 0), (-46.5487938612, -43.1909688485))
            ThreePointArc((-46.5487938612, -43.1909688485), (-39.591602418, -49.6462991367), (-31.75, -54.9926131403))
        make_face()
        with BuildLine():
            Line((-46.5487938612, -43.1909688485), (0, 0))
            Line((0, 0), (-57.2115231118, -27.551617434))
            ThreePointArc((-57.2115231118, -27.551617434), (-52.4661621691, -35.770823687), (-46.5487938612, -43.1909688485))
        make_face()
        with BuildLine():
            Line((-57.2115231118, -27.551617434), (0, 0))
            Line((0, 0), (-62.7907574653, -9.4641839022))
            ThreePointArc((-62.7907574653, -9.4641839022), (-60.6788731674, -18.7169535751), (-57.2115231118, -27.551617434))
        make_face()
        with BuildLine():
            Line((-62.7907574653, -9.4641839022), (0, 0))
            Line((0, 0), (-62.7907574653, 9.4641839022))
            ThreePointArc((-62.7907574653, 9.4641839022), (-63.5, 0), (-62.7907574653, -9.4641839022))
        make_face()
        with BuildLine():
            Line((-62.7907574653, 9.4641839022), (0, 0))
            Line((0, 0), (-57.2115231118, 27.551617434))
            ThreePointArc((-57.2115231118, 27.551617434), (-60.6788731674, 18.7169535751), (-62.7907574653, 9.4641839022))
        make_face()
    extrude(amount=F5_DEPTH)

    # F0 (on Right) → F6 (join)
    with BuildSketch(Plane.YZ):
        with BuildLine():
            Line((502.3260597224, -75.7134712175), (508, 0))
            Line((508, 0), (63.5, 0))
            ThreePointArc((63.5, 0), (62.7907574653, -9.4641839022), (60.6788731674, -18.7169535751))
            Line((60.6788731674, -18.7169535751), (485.4309853394, -149.7356286007))
            Line((485.4309853394, -149.7356286007), (502.3260597224, -75.7134712175))
        make_face()
        with BuildLine():
            Line((316.7328193442, -397.1703930938), (39.591602418, -49.6462991367))
            ThreePointArc((39.591602418, -49.6462991367), (31.75, -54.9926131403), (23.1991550473, -59.1104830389))
            Line((23.1991550473, -59.1104830389), (185.5932403781, -472.8838643113))
            Line((185.5932403781, -472.8838643113), (254, -439.9409051225))
            Line((254, -439.9409051225), (316.7328193442, -397.1703930938))
        make_face()
        with BuildLine():
            Line((-113.0406344498, -495.2633793884), (-14.1300793062, -61.9079224235))
            ThreePointArc((-14.1300793062, -61.9079224235), (-23.1991550473, -59.1104830389), (-31.75, -54.9926131403))
            Line((-31.75, -54.9926131403), (-254, -439.9409051225))
            Line((-254, -439.9409051225), (-185.5932403781, -472.8838643113))
            Line((-185.5932403781, -472.8838643113), (-113.0406344498, -495.2633793884))
        make_face()
        with BuildLine():
            Line((-457.6921848944, -220.4129394717), (-57.2115231118, -27.551617434))
            ThreePointArc((-57.2115231118, -27.551617434), (-60.6788731674, -18.7169535751), (-62.7907574653, -9.4641839022))
            Line((-62.7907574653, -9.4641839022), (-502.3260597224, -75.7134712175))
            Line((-502.3260597224, -75.7134712175), (-485.4309853394, -149.7356286007))
            Line((-485.4309853394, -149.7356286007), (-457.6921848944, -220.4129394717))
        make_face()
        with BuildLine():
            ThreePointArc((-57.2115231118, 27.551617434), (-52.4661621691, 35.770823687), (-46.5487938612, 43.1909688485))
            Line((-46.5487938612, 43.1909688485), (-372.3903508896, 345.5277507876))
            Line((-372.3903508896, 345.5277507876), (-419.7292973525, 286.1665894963))
            Line((-419.7292973525, 286.1665894963), (-457.6921848944, 220.4129394717))
            Line((-457.6921848944, 220.4129394717), (-57.2115231118, 27.551617434))
        make_face()
        with BuildLine():
            ThreePointArc((60.6788731674, -18.7169535751), (62.7907574653, -9.4641839022), (63.5, 0))
            Line((63.5, 0), (0, 0))
            Line((0, 0), (60.6788731674, -18.7169535751))
        make_face()
        with BuildLine():
            Line((60.6788731674, -18.7169535751), (0, 0))
            Line((0, 0), (52.4661621691, -35.770823687))
            ThreePointArc((52.4661621691, -35.770823687), (57.2115231118, -27.551617434), (60.6788731674, -18.7169535751))
        make_face()
        with BuildLine():
            Line((52.4661621691, -35.770823687), (0, 0))
            Line((0, 0), (39.591602418, -49.6462991367))
            ThreePointArc((39.591602418, -49.6462991367), (46.5487938612, -43.1909688485), (52.4661621691, -35.770823687))
        make_face()
        with BuildLine():
            Line((39.591602418, -49.6462991367), (0, 0))
            Line((0, 0), (23.1991550473, -59.1104830389))
            ThreePointArc((23.1991550473, -59.1104830389), (31.75, -54.9926131403), (39.591602418, -49.6462991367))
        make_face()
        with BuildLine():
            Line((23.1991550473, -59.1104830389), (0, 0))
            Line((0, 0), (4.7453609427, -63.322441121))
            ThreePointArc((4.7453609427, -63.322441121), (14.1300793062, -61.9079224235), (23.1991550473, -59.1104830389))
        make_face()
        with BuildLine():
            Line((4.7453609427, -63.322441121), (0, 0))
            Line((0, 0), (-14.1300793062, -61.9079224235))
            ThreePointArc((-14.1300793062, -61.9079224235), (-4.7453609427, -63.322441121), (4.7453609427, -63.322441121))
        make_face()
        with BuildLine():
            Line((-14.1300793062, -61.9079224235), (0, 0))
            Line((0, 0), (-31.75, -54.9926131403))
            ThreePointArc((-31.75, -54.9926131403), (-23.1991550473, -59.1104830389), (-14.1300793062, -61.9079224235))
        make_face()
        with BuildLine():
            Line((-31.75, -54.9926131403), (0, 0))
            Line((0, 0), (-46.5487938612, -43.1909688485))
            ThreePointArc((-46.5487938612, -43.1909688485), (-39.591602418, -49.6462991367), (-31.75, -54.9926131403))
        make_face()
        with BuildLine():
            Line((-46.5487938612, -43.1909688485), (0, 0))
            Line((0, 0), (-57.2115231118, -27.551617434))
            ThreePointArc((-57.2115231118, -27.551617434), (-52.4661621691, -35.770823687), (-46.5487938612, -43.1909688485))
        make_face()
        with BuildLine():
            Line((-57.2115231118, -27.551617434), (0, 0))
            Line((0, 0), (-62.7907574653, -9.4641839022))
            ThreePointArc((-62.7907574653, -9.4641839022), (-60.6788731674, -18.7169535751), (-57.2115231118, -27.551617434))
        make_face()
        with BuildLine():
            Line((-62.7907574653, -9.4641839022), (0, 0))
            Line((0, 0), (-62.7907574653, 9.4641839022))
            ThreePointArc((-62.7907574653, 9.4641839022), (-63.5, 0), (-62.7907574653, -9.4641839022))
        make_face()
        with BuildLine():
            Line((-62.7907574653, 9.4641839022), (0, 0))
            Line((0, 0), (-57.2115231118, 27.551617434))
            ThreePointArc((-57.2115231118, 27.551617434), (-60.6788731674, 18.7169535751), (-62.7907574653, 9.4641839022))
        make_face()
        with BuildLine():
            Line((-57.2115231118, 27.551617434), (0, 0))
            Line((0, 0), (-46.5487938612, 43.1909688485))
            ThreePointArc((-46.5487938612, 43.1909688485), (-52.4661621691, 35.770823687), (-57.2115231118, 27.551617434))
        make_face()
    extrude(amount=F6_DEPTH)

    # F0 (on Right) → F7 (join)
    with BuildSketch(Plane.YZ):
        with BuildLine():
            Line((-46.5487938612, 43.1909688485), (0, 0))
            Line((0, 0), (-23.1991550473, 59.1104830389))
            ThreePointArc((-23.1991550473, 59.1104830389), (-35.770823687, 52.4661621691), (-46.5487938612, 43.1909688485))
        make_face()
        with BuildLine():
            Line((-57.2115231118, 27.551617434), (0, 0))
            Line((0, 0), (-46.5487938612, 43.1909688485))
            ThreePointArc((-46.5487938612, 43.1909688485), (-52.4661621691, 35.770823687), (-57.2115231118, 27.551617434))
        make_face()
        with BuildLine():
            Line((-62.7907574653, 9.4641839022), (0, 0))
            Line((0, 0), (-57.2115231118, 27.551617434))
            ThreePointArc((-57.2115231118, 27.551617434), (-60.6788731674, 18.7169535751), (-62.7907574653, 9.4641839022))
        make_face()
        with BuildLine():
            Line((-62.7907574653, -9.4641839022), (0, 0))
            Line((0, 0), (-62.7907574653, 9.4641839022))
            ThreePointArc((-62.7907574653, 9.4641839022), (-63.5, 0), (-62.7907574653, -9.4641839022))
        make_face()
        with BuildLine():
            Line((-57.2115231118, -27.551617434), (0, 0))
            Line((0, 0), (-62.7907574653, -9.4641839022))
            ThreePointArc((-62.7907574653, -9.4641839022), (-60.6788731674, -18.7169535751), (-57.2115231118, -27.551617434))
        make_face()
        with BuildLine():
            Line((-46.5487938612, -43.1909688485), (0, 0))
            Line((0, 0), (-57.2115231118, -27.551617434))
            ThreePointArc((-57.2115231118, -27.551617434), (-52.4661621691, -35.770823687), (-46.5487938612, -43.1909688485))
        make_face()
        with BuildLine():
            Line((-31.75, -54.9926131403), (0, 0))
            Line((0, 0), (-46.5487938612, -43.1909688485))
            ThreePointArc((-46.5487938612, -43.1909688485), (-39.591602418, -49.6462991367), (-31.75, -54.9926131403))
        make_face()
        with BuildLine():
            Line((-14.1300793062, -61.9079224235), (0, 0))
            Line((0, 0), (-31.75, -54.9926131403))
            ThreePointArc((-31.75, -54.9926131403), (-23.1991550473, -59.1104830389), (-14.1300793062, -61.9079224235))
        make_face()
        with BuildLine():
            Line((4.7453609427, -63.322441121), (0, 0))
            Line((0, 0), (-14.1300793062, -61.9079224235))
            ThreePointArc((-14.1300793062, -61.9079224235), (-4.7453609427, -63.322441121), (4.7453609427, -63.322441121))
        make_face()
        with BuildLine():
            Line((23.1991550473, -59.1104830389), (0, 0))
            Line((0, 0), (4.7453609427, -63.322441121))
            ThreePointArc((4.7453609427, -63.322441121), (14.1300793062, -61.9079224235), (23.1991550473, -59.1104830389))
        make_face()
        with BuildLine():
            Line((39.591602418, -49.6462991367), (0, 0))
            Line((0, 0), (23.1991550473, -59.1104830389))
            ThreePointArc((23.1991550473, -59.1104830389), (31.75, -54.9926131403), (39.591602418, -49.6462991367))
        make_face()
        with BuildLine():
            Line((52.4661621691, -35.770823687), (0, 0))
            Line((0, 0), (39.591602418, -49.6462991367))
            ThreePointArc((39.591602418, -49.6462991367), (46.5487938612, -43.1909688485), (52.4661621691, -35.770823687))
        make_face()
        with BuildLine():
            Line((60.6788731674, -18.7169535751), (0, 0))
            Line((0, 0), (52.4661621691, -35.770823687))
            ThreePointArc((52.4661621691, -35.770823687), (57.2115231118, -27.551617434), (60.6788731674, -18.7169535751))
        make_face()
        with BuildLine():
            ThreePointArc((60.6788731674, -18.7169535751), (62.7907574653, -9.4641839022), (63.5, 0))
            Line((63.5, 0), (0, 0))
            Line((0, 0), (60.6788731674, -18.7169535751))
        make_face()
        with BuildLine():
            Line((0, 0), (63.5, 0))
            ThreePointArc((63.5, 0), (62.7907574653, 9.4641839022), (60.6788731674, 18.7169535751))
            Line((60.6788731674, 18.7169535751), (0, 0))
        make_face()
        with BuildLine():
            Line((52.4661621691, 35.770823687), (0, 0))
            Line((0, 0), (60.6788731674, 18.7169535751))
            ThreePointArc((60.6788731674, 18.7169535751), (57.2115231118, 27.551617434), (52.4661621691, 35.770823687))
        make_face()
        with BuildLine():
            Line((31.75, 54.9926131403), (0, 0))
            Line((0, 0), (52.4661621691, 35.770823687))
            ThreePointArc((52.4661621691, 35.770823687), (43.1909688485, 46.5487938612), (31.75, 54.9926131403))
        make_face()
        with BuildLine():
            Line((4.7453609427, 63.322441121), (0, 0))
            Line((0, 0), (31.75, 54.9926131403))
            ThreePointArc((31.75, 54.9926131403), (18.7169535751, 60.6788731674), (4.7453609427, 63.322441121))
        make_face()
        with BuildLine():
            Line((-23.1991550473, 59.1104830389), (0, 0))
            Line((0, 0), (4.7453609427, 63.322441121))
            ThreePointArc((4.7453609427, 63.322441121), (-9.4641839022, 62.7907574653), (-23.1991550473, 59.1104830389))
        make_face()
    extrude(amount=F7_DEPTH)


solid = f1.part
